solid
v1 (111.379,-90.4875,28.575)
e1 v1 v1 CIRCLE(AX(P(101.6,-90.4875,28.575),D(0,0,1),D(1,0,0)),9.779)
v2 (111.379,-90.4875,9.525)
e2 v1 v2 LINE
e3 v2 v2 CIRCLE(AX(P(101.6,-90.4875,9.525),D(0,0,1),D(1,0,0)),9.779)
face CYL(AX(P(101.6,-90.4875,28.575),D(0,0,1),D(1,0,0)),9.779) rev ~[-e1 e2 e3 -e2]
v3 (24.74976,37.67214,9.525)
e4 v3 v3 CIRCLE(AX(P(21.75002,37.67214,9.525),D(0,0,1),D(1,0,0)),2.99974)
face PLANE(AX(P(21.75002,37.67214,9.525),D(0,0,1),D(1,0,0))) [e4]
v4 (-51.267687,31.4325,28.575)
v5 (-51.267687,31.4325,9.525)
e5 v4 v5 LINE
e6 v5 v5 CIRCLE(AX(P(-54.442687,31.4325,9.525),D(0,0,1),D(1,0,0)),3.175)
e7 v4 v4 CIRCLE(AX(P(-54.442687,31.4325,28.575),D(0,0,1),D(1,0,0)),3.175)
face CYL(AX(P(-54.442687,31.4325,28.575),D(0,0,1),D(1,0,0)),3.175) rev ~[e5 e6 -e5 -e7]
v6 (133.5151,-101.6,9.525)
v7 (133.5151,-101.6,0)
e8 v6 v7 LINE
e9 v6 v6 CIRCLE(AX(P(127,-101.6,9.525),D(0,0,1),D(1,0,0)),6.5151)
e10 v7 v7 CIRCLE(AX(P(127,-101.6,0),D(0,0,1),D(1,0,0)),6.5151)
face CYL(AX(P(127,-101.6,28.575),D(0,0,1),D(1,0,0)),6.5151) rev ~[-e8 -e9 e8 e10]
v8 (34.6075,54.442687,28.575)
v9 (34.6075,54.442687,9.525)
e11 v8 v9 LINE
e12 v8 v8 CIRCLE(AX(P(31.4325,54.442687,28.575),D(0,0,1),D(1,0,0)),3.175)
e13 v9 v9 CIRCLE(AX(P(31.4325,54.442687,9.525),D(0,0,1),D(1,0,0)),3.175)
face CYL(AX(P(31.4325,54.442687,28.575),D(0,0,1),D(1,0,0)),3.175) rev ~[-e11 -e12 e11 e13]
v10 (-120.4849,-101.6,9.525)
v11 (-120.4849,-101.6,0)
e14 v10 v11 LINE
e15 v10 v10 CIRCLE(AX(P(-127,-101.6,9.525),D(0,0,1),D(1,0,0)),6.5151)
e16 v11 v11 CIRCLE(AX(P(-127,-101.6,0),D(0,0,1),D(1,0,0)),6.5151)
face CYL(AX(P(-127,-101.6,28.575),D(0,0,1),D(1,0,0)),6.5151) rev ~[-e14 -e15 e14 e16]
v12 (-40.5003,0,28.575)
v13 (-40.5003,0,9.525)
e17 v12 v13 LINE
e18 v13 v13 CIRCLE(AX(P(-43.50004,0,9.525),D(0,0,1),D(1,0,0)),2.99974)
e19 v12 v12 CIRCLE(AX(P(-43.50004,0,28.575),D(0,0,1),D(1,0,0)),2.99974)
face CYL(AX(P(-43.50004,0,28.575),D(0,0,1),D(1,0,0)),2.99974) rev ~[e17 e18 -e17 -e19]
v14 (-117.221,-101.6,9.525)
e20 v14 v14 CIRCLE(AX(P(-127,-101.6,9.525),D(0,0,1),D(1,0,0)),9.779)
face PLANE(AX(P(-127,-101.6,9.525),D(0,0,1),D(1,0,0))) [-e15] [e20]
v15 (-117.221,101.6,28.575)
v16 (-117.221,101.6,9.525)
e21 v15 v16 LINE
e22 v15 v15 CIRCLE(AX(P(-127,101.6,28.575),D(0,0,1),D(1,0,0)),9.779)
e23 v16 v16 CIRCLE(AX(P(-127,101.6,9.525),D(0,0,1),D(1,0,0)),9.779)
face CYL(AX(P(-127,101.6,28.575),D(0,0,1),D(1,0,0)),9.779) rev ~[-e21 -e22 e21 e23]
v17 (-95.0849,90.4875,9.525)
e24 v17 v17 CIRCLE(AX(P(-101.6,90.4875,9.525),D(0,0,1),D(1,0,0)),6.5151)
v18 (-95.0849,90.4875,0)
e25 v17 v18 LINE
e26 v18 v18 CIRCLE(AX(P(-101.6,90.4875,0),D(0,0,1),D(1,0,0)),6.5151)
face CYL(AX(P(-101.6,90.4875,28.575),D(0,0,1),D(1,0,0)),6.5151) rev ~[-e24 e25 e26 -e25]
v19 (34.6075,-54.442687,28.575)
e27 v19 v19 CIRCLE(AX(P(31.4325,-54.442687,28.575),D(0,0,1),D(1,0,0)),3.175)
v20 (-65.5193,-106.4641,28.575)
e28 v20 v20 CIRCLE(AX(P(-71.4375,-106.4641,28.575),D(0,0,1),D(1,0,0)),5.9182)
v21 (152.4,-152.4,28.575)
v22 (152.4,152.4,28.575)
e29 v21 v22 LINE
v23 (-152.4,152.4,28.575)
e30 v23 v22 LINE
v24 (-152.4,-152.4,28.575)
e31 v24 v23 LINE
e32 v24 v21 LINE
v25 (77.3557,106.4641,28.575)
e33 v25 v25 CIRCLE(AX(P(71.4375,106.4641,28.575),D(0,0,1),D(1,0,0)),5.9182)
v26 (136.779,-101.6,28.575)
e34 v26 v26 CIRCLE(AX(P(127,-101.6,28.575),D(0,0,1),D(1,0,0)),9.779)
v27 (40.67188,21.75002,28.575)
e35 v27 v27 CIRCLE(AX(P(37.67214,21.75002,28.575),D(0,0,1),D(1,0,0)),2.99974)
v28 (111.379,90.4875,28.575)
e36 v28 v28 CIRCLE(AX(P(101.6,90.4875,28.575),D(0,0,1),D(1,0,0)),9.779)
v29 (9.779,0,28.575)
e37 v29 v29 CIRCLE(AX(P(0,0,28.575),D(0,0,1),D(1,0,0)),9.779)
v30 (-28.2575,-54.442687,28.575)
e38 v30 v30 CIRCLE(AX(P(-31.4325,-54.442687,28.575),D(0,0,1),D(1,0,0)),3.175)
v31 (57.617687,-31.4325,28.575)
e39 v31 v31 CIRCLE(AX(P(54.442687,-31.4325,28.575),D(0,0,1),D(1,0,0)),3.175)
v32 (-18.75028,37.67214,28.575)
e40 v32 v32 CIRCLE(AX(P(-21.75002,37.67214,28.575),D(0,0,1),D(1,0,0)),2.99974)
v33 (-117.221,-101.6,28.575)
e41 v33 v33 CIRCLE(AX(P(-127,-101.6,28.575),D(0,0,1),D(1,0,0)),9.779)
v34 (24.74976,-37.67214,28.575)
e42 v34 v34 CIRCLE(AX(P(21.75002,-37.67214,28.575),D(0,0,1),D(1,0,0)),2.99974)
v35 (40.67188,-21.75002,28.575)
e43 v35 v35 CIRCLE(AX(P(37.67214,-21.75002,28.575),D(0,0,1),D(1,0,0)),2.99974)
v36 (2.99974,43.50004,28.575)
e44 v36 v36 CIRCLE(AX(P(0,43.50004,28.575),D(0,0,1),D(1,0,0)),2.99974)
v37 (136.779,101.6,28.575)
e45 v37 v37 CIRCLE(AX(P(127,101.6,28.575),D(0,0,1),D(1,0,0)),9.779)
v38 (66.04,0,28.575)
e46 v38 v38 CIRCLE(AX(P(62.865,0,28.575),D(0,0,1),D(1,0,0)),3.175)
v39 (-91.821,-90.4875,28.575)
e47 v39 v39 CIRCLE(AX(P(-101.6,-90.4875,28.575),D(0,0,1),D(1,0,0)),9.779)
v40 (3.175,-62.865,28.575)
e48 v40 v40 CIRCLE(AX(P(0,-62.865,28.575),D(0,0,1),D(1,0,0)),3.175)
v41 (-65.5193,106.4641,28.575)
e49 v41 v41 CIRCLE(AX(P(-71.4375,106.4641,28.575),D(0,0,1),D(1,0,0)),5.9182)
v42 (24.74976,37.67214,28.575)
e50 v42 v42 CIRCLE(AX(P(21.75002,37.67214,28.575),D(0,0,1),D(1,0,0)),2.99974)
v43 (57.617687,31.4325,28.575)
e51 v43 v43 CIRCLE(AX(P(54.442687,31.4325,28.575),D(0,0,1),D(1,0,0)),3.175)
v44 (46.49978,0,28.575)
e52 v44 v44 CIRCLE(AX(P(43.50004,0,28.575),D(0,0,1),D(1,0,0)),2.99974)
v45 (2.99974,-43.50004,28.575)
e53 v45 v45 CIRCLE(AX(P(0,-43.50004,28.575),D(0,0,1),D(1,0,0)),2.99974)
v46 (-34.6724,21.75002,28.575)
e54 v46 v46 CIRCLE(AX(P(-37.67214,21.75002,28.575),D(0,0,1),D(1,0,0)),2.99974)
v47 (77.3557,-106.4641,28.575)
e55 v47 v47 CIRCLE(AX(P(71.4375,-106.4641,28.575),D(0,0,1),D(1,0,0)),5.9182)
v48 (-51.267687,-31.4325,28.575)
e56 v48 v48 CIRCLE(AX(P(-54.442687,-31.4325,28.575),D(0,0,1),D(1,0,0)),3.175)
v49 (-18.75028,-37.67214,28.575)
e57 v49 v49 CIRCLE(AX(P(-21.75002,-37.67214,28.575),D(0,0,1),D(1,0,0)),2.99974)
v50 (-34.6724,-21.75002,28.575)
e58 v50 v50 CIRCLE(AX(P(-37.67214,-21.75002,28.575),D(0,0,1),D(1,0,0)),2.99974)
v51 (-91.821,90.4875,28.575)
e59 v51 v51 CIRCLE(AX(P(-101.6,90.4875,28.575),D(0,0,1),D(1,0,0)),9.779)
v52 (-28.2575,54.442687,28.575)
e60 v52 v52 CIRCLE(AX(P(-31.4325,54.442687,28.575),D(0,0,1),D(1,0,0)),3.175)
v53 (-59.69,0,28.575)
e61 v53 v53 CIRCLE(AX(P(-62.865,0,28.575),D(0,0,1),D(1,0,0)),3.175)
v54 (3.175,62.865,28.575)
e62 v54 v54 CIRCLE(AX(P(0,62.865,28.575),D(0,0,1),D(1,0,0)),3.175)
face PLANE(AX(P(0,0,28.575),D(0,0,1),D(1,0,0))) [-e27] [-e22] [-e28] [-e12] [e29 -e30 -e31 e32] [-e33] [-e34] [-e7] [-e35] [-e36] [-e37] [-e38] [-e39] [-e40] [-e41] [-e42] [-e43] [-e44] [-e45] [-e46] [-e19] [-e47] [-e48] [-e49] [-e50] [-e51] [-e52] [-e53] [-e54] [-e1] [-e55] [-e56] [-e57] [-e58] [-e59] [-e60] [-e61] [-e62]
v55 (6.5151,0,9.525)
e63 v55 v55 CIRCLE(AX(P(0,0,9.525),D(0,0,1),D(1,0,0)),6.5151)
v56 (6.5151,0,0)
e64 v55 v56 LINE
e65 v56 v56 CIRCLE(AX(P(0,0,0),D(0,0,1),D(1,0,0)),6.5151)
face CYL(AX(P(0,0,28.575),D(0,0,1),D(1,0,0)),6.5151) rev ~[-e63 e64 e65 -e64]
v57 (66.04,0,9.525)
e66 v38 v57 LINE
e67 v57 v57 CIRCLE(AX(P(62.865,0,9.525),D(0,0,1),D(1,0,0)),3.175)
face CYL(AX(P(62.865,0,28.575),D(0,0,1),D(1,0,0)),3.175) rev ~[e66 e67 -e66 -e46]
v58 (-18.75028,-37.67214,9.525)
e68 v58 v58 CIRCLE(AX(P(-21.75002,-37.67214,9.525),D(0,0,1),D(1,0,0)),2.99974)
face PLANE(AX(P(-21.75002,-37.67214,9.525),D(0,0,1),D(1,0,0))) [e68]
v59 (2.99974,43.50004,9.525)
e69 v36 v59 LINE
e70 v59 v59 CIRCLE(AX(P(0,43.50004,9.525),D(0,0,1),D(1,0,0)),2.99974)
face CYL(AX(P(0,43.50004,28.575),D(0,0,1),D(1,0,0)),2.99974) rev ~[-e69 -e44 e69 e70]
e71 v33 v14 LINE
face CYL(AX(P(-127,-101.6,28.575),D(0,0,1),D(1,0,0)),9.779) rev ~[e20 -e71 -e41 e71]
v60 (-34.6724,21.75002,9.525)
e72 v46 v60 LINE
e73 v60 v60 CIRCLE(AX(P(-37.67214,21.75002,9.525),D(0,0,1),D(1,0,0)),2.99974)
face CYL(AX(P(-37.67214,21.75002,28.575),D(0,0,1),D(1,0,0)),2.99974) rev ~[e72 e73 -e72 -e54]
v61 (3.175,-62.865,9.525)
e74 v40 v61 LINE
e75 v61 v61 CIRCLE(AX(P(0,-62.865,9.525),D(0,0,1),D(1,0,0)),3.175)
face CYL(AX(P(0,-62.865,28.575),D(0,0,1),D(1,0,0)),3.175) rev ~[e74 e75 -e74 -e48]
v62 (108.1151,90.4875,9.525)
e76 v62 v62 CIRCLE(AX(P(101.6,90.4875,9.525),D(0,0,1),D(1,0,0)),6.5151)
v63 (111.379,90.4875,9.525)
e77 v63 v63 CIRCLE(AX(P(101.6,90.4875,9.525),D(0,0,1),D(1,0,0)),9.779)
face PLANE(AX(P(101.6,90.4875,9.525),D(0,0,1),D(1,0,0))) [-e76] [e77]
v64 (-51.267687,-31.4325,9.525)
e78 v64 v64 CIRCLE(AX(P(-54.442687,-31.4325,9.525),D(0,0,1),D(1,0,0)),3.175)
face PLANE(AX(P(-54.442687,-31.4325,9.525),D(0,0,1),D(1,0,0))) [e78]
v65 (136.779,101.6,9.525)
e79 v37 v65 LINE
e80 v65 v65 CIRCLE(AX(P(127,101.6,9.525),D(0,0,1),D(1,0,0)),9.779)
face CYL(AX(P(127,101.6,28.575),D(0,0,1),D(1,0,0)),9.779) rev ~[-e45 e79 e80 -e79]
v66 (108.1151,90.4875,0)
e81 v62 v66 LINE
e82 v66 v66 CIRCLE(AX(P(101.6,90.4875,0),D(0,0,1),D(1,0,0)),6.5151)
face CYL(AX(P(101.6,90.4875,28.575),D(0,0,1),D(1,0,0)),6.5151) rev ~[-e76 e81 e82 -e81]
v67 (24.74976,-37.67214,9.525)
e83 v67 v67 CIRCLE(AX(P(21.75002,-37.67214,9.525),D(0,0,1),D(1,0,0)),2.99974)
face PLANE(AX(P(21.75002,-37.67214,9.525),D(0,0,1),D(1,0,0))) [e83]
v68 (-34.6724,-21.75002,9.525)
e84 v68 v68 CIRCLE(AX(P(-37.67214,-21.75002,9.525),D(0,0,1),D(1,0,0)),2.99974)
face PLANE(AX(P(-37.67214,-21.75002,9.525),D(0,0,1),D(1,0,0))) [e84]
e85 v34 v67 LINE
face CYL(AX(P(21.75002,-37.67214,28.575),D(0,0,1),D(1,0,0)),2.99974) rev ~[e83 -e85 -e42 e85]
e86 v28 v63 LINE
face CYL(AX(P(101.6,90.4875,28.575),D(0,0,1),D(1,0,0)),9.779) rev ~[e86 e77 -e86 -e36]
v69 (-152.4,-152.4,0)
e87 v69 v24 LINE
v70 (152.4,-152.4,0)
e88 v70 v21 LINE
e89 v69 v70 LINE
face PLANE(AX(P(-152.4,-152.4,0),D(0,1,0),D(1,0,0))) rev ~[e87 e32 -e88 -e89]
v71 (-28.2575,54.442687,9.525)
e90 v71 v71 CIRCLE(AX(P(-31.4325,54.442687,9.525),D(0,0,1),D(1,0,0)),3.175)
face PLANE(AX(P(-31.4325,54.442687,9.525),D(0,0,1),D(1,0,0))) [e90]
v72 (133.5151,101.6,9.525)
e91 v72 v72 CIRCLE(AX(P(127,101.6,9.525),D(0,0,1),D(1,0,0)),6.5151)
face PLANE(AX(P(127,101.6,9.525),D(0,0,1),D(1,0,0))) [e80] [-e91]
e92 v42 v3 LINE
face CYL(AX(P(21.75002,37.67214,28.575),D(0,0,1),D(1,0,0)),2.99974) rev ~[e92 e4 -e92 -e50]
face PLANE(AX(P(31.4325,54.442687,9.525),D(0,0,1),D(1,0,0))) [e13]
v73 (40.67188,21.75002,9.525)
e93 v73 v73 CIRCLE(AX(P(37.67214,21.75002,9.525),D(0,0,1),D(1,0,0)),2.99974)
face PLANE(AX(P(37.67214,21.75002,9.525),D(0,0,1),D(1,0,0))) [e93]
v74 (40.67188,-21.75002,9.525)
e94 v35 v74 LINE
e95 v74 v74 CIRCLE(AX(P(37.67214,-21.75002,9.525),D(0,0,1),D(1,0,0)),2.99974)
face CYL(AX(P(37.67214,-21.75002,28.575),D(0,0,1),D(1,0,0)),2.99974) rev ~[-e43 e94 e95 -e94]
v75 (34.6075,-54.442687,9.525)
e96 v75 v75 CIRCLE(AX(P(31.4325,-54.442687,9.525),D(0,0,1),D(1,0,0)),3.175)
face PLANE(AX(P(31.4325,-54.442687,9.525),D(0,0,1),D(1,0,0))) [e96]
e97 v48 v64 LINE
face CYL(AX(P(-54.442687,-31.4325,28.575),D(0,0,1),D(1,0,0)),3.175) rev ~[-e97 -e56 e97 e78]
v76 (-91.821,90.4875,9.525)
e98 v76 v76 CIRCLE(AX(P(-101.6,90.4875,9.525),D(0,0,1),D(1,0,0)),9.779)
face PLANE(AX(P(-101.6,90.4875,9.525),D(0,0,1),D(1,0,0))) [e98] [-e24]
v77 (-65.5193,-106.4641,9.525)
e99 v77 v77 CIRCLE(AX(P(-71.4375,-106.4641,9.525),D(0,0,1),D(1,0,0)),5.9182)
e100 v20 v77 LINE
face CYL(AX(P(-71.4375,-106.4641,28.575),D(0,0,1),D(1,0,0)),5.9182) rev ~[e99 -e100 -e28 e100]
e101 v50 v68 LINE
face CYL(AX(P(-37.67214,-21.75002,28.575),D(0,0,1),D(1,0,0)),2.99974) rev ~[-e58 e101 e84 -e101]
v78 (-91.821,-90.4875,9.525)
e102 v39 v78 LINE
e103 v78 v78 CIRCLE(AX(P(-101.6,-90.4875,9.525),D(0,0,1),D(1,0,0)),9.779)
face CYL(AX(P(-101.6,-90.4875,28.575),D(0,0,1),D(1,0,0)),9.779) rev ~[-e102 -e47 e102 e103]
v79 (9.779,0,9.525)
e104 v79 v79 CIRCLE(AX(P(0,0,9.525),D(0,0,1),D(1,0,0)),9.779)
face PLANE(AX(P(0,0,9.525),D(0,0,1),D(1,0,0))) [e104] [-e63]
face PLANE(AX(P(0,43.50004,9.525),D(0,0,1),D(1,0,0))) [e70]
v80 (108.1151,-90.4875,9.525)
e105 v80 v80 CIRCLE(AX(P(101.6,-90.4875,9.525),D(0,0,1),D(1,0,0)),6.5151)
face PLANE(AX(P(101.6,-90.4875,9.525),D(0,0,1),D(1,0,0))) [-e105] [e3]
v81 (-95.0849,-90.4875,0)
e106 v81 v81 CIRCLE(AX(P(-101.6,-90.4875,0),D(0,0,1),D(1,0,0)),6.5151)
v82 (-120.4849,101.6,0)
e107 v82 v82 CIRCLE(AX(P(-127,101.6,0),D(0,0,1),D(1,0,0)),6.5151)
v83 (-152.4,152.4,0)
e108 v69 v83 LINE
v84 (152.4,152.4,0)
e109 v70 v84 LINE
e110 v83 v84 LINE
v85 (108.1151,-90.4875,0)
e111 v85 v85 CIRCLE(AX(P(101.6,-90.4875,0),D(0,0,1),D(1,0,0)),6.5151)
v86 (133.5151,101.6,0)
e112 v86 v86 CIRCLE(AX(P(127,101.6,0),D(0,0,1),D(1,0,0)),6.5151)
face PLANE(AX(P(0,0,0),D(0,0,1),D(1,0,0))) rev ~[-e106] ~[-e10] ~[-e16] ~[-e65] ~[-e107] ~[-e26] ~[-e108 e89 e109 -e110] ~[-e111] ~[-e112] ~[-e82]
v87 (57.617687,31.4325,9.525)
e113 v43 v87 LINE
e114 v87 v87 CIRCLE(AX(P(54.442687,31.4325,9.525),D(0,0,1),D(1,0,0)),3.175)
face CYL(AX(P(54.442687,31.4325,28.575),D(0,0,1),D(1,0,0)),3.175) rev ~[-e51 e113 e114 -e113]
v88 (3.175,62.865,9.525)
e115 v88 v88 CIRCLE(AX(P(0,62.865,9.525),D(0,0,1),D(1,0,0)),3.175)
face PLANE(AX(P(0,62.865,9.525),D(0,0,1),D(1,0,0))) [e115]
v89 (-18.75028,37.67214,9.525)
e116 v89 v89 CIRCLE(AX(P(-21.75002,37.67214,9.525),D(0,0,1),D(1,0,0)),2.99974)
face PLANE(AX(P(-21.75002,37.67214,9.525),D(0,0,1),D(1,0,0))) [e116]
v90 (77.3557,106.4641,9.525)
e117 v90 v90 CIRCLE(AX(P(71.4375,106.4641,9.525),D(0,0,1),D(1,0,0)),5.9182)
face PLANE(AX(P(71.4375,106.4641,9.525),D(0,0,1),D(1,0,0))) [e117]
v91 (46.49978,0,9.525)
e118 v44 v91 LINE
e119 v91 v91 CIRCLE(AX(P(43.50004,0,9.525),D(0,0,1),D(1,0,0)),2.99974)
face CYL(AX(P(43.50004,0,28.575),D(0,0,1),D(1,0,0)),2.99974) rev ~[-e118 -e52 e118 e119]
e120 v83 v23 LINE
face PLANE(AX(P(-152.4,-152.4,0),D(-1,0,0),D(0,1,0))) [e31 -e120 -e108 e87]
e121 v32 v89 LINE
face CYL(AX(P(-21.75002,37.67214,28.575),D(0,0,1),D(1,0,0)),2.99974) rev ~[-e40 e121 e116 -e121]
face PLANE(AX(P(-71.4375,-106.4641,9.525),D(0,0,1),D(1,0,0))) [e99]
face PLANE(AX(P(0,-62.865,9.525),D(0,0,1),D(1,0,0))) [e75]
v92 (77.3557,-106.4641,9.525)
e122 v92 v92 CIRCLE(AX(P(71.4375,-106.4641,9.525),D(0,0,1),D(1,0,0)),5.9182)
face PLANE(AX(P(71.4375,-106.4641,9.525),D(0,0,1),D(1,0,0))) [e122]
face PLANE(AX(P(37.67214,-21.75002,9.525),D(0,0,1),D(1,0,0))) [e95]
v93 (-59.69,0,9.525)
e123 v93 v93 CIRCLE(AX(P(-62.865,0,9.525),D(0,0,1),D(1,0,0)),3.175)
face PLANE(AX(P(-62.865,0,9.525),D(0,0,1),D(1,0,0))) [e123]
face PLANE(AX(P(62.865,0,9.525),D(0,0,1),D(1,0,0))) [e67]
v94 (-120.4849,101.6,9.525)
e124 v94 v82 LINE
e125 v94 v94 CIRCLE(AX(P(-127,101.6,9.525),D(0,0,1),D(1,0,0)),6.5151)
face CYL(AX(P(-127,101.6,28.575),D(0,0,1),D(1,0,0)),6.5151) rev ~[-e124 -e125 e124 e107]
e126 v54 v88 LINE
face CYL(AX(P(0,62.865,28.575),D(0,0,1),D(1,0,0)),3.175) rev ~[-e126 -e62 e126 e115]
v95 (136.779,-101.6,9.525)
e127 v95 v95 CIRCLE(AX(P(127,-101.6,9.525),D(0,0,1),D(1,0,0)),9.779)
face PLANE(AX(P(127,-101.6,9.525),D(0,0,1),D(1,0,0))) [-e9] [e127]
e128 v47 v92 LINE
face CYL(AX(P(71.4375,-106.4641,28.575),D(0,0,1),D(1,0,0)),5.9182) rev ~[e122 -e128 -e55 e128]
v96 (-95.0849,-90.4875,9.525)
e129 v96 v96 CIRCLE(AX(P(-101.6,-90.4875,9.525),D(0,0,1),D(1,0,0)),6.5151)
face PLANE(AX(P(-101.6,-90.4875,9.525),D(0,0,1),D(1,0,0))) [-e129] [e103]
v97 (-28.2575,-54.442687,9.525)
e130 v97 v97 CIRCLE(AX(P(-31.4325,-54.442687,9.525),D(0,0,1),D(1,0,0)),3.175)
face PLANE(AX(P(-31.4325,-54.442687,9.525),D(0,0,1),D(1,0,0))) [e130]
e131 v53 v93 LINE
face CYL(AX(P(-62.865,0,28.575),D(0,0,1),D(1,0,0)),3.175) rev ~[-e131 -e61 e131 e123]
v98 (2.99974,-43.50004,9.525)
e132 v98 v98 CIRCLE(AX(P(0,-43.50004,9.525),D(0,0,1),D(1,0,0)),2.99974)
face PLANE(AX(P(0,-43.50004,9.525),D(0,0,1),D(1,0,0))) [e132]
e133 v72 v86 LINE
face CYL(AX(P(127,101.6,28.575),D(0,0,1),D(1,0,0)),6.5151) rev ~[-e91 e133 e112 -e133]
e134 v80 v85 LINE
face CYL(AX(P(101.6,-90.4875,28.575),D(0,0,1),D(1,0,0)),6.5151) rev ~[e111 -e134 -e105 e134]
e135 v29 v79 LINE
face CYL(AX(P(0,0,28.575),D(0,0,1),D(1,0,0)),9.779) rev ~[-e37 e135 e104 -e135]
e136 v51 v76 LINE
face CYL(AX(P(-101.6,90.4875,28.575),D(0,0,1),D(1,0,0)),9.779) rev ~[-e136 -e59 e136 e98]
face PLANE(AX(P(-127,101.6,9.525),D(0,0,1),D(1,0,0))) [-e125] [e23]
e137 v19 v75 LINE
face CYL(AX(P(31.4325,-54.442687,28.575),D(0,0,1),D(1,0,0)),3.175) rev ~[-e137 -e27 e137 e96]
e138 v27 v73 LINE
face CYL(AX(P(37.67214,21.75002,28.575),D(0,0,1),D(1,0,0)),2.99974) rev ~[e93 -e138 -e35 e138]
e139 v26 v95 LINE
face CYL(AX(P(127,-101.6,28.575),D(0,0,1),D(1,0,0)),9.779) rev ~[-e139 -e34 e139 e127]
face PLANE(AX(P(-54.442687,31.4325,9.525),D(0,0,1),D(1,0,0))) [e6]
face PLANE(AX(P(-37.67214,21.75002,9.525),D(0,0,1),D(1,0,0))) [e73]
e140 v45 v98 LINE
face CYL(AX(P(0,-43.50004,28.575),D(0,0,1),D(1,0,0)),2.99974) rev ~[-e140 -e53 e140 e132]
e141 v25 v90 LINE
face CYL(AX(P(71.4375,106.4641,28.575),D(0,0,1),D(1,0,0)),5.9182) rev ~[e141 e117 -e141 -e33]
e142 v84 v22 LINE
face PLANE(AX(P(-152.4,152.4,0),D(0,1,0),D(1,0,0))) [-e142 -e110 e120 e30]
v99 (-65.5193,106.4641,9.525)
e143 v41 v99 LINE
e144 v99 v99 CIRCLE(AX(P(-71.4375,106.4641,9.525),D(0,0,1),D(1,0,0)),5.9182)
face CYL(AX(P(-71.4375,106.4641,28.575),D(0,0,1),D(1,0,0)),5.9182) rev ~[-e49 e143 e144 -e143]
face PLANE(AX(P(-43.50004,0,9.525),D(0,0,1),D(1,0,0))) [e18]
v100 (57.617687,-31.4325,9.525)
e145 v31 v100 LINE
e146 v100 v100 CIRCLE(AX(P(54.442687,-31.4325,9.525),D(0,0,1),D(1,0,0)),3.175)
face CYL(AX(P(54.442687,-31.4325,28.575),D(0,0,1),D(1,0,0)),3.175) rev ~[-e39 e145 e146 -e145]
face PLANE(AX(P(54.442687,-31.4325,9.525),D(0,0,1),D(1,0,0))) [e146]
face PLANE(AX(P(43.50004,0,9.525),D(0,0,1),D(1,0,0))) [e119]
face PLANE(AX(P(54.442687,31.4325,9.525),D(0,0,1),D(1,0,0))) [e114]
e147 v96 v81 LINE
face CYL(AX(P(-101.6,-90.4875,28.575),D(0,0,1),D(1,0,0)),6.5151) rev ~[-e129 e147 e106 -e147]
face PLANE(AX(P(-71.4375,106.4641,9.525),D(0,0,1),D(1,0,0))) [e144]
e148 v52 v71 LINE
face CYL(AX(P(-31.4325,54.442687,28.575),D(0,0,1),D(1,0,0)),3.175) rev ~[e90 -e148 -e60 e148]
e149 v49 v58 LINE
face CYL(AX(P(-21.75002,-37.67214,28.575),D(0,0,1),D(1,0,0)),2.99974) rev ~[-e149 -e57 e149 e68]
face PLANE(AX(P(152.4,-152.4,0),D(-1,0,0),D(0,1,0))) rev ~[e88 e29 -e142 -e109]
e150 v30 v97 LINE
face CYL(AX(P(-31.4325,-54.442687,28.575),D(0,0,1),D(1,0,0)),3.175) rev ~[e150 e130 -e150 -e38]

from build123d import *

# Parameters (mm, degrees)
SKETCH1_W                               = 304.8
SKETCH1_H                               = 304.8
BOSS_EXTRUDE1_DEPTH                     = 28.575
SKETCH2_R                               = 6.5151
HAAS_T_SLOT_HOLES_DEPTH                 = 218.41216761
SKETCH3_R                               = 9.779
HAAS_COUNTER_BORES_DEPTH                = 19.05
SKETCH4_R                               = 6.5151
TORMACH_T_SLOT_HOLES_DEPTH              = 218.41216761
SKETCH5_R                               = 9.779
TORMACH_COUNTER_BORES_DEPTH             = 19.05
SKETCH6_R                               = 2.99974
SPROCKET_LOCATING_HOLES_DEPTH           = 19.05
SKETCH7_R                               = 2.99974
SPROCKET_MOUNTING_CLEARANCE_HOLES_DEPTH = 19.05
SKETCH8_R                               = 5.9182
F_1_2_13_TAPPED_HOLES_DEPTH             = 19.05
SKETCH9_R                               = 3.175
F_1_4_20_SPROCKET_FIXTURE_BOLTS_DEPTH   = 19.05


with BuildPart() as part:
    # Sketch1 → Boss-Extrude1 (new body)
    with BuildSketch(Plane.XY):
        Rectangle(SKETCH1_W, SKETCH1_H)
    extrude(amount=BOSS_EXTRUDE1_DEPTH)

    # Sketch2 → HAAS T-Slot Holes (cut, through all)
    with BuildSketch(Plane.XY.offset(28.575)):
        with Locations((-127, 101.6)):
            Circle(SKETCH2_R)
        with Locations((127, 101.6)):
            Circle(SKETCH2_R)
        with Locations((127, -101.6)):
            Circle(SKETCH2_R)
        with Locations((-127, -101.6)):
            Circle(SKETCH2_R)
        Circle(SKETCH2_R)
    extrude(amount=-HAAS_T_SLOT_HOLES_DEPTH, mode=Mode.SUBTRACT)

    # Sketch3 → HAAS Counter Bores (cut)
    with BuildSketch(Plane.XY.offset(28.575)):
        with Locations((-127, 101.6)):
            Circle(SKETCH3_R)
        with Locations((127, 101.6)):
            Circle(SKETCH3_R)
        Circle(SKETCH3_R)
        with Locations((127, -101.6)):
            Circle(SKETCH3_R)
        with Locations((-127, -101.6)):
            Circle(SKETCH3_R)
    extrude(amount=-HAAS_COUNTER_BORES_DEPTH, mode=Mode.SUBTRACT)

    # Sketch4 → Tormach T-Slot Holes (cut, through all)
    with BuildSketch(Plane.XY.offset(28.575)):
        with Locations((-101.6, 90.4875)):
            Circle(SKETCH4_R)
        with Locations((101.6, 90.4875)):
            Circle(SKETCH4_R)
        with Locations((-101.6, -90.4875)):
            Circle(SKETCH4_R)
        with Locations((101.6, -90.4875)):
            Circle(SKETCH4_R)
    extrude(amount=-TORMACH_T_SLOT_HOLES_DEPTH, mode=Mode.SUBTRACT)

    # Sketch5 → Tormach Counter bores (cut)
    with BuildSketch(Plane.XY.offset(28.575)):
        with Locations((-101.6, 90.4875)):
            Circle(SKETCH5_R)
        with Locations((101.6, 90.4875)):
            Circle(SKETCH5_R)
        with Locations((101.6, -90.4875)):
            Circle(SKETCH5_R)
        with Locations((-101.6, -90.4875)):
            Circle(SKETCH5_R)
    extrude(amount=-TORMACH_COUNTER_BORES_DEPTH, mode=Mode.SUBTRACT)

    # Sketch6 → Sprocket Locating Holes (cut)
    with BuildSketch(Plane.XY.offset(28.575)):
        with Locations((0, 43.50004)):
            Circle(SKETCH6_R)
        with Locations((0, -43.50004)):
            Circle(SKETCH6_R)
    extrude(amount=-SPROCKET_LOCATING_HOLES_DEPTH, mode=Mode.SUBTRACT)

    # Sketch7 → Sprocket Mounting clearance holes (cut)
    with BuildSketch(Plane.XY.offset(28.575)):
        with Locations((43.50004, 0)):
            Circle(SKETCH7_R)
        with Locations((37.672139706, -21.75002)):
            Circle(SKETCH7_R)
        with Locations((21.75002, -37.672139706)):
            Circle(SKETCH7_R)
        with Locations((-21.75002, -37.672139706)):
            Circle(SKETCH7_R)
        with Locations((-37.672139706, -21.75002)):
            Circle(SKETCH7_R)
        with Locations((-43.50004, 0)):
            Circle(SKETCH7_R)
        with Locations((-37.672139706, 21.75002)):
            Circle(SKETCH7_R)
        with Locations((-21.75002, 37.672139706)):
            Circle(SKETCH7_R)
        with Locations((21.75002, 37.672139706)):
            Circle(SKETCH7_R)
        with Locations((37.672139706, 21.75002)):
            Circle(SKETCH7_R)
    extrude(amount=-SPROCKET_MOUNTING_CLEARANCE_HOLES_DEPTH, mode=Mode.SUBTRACT)

    # Sketch8 → 1/2-13 Tapped Holes (cut)
    with BuildSketch(Plane.XY.offset(28.575)):
        with Locations((-71.4375, 106.4641)):
            Circle(SKETCH8_R)
        with Locations((71.4375, 106.4641)):
            Circle(SKETCH8_R)
        with Locations((71.4375, -106.4641)):
            Circle(SKETCH8_R)
        with Locations((-71.4375, -106.4641)):
            Circle(SKETCH8_R)
    extrude(amount=-F_1_2_13_TAPPED_HOLES_DEPTH, mode=Mode.SUBTRACT)

    # Sketch9 → 1/4-20 Sprocket Fixture Bolts (cut)
    with BuildSketch(Plane.XY.offset(28.575)):
        with Locations((0, 62.865)):
            Circle(SKETCH9_R)
        with Locations((31.4325, 54.442687009)):
            Circle(SKETCH9_R)
        with Locations((54.442687009, 31.4325)):
            Circle(SKETCH9_R)
        with Locations((62.865, 0)):
            Circle(SKETCH9_R)
        with Locations((54.442687009, -31.4325)):
            Circle(SKETCH9_R)
        with Locations((31.4325, -54.442687009)):
            Circle(SKETCH9_R)
        with Locations((0, -62.865)):
            Circle(SKETCH9_R)
        with Locations((-31.4325, -54.442687009)):
            Circle(SKETCH9_R)
        with Locations((-54.442687009, -31.4325)):
            Circle(SKETCH9_R)
        with Locations((-62.865, 0)):
            Circle(SKETCH9_R)
        with Locations((-54.442687009, 31.4325)):
            Circle(SKETCH9_R)
        with Locations((-31.4325, 54.442687009)):
            Circle(SKETCH9_R)
    extrude(amount=-F_1_4_20_SPROCKET_FIXTURE_BOLTS_DEPTH, mode=Mode.SUBTRACT)


solid = part.part
